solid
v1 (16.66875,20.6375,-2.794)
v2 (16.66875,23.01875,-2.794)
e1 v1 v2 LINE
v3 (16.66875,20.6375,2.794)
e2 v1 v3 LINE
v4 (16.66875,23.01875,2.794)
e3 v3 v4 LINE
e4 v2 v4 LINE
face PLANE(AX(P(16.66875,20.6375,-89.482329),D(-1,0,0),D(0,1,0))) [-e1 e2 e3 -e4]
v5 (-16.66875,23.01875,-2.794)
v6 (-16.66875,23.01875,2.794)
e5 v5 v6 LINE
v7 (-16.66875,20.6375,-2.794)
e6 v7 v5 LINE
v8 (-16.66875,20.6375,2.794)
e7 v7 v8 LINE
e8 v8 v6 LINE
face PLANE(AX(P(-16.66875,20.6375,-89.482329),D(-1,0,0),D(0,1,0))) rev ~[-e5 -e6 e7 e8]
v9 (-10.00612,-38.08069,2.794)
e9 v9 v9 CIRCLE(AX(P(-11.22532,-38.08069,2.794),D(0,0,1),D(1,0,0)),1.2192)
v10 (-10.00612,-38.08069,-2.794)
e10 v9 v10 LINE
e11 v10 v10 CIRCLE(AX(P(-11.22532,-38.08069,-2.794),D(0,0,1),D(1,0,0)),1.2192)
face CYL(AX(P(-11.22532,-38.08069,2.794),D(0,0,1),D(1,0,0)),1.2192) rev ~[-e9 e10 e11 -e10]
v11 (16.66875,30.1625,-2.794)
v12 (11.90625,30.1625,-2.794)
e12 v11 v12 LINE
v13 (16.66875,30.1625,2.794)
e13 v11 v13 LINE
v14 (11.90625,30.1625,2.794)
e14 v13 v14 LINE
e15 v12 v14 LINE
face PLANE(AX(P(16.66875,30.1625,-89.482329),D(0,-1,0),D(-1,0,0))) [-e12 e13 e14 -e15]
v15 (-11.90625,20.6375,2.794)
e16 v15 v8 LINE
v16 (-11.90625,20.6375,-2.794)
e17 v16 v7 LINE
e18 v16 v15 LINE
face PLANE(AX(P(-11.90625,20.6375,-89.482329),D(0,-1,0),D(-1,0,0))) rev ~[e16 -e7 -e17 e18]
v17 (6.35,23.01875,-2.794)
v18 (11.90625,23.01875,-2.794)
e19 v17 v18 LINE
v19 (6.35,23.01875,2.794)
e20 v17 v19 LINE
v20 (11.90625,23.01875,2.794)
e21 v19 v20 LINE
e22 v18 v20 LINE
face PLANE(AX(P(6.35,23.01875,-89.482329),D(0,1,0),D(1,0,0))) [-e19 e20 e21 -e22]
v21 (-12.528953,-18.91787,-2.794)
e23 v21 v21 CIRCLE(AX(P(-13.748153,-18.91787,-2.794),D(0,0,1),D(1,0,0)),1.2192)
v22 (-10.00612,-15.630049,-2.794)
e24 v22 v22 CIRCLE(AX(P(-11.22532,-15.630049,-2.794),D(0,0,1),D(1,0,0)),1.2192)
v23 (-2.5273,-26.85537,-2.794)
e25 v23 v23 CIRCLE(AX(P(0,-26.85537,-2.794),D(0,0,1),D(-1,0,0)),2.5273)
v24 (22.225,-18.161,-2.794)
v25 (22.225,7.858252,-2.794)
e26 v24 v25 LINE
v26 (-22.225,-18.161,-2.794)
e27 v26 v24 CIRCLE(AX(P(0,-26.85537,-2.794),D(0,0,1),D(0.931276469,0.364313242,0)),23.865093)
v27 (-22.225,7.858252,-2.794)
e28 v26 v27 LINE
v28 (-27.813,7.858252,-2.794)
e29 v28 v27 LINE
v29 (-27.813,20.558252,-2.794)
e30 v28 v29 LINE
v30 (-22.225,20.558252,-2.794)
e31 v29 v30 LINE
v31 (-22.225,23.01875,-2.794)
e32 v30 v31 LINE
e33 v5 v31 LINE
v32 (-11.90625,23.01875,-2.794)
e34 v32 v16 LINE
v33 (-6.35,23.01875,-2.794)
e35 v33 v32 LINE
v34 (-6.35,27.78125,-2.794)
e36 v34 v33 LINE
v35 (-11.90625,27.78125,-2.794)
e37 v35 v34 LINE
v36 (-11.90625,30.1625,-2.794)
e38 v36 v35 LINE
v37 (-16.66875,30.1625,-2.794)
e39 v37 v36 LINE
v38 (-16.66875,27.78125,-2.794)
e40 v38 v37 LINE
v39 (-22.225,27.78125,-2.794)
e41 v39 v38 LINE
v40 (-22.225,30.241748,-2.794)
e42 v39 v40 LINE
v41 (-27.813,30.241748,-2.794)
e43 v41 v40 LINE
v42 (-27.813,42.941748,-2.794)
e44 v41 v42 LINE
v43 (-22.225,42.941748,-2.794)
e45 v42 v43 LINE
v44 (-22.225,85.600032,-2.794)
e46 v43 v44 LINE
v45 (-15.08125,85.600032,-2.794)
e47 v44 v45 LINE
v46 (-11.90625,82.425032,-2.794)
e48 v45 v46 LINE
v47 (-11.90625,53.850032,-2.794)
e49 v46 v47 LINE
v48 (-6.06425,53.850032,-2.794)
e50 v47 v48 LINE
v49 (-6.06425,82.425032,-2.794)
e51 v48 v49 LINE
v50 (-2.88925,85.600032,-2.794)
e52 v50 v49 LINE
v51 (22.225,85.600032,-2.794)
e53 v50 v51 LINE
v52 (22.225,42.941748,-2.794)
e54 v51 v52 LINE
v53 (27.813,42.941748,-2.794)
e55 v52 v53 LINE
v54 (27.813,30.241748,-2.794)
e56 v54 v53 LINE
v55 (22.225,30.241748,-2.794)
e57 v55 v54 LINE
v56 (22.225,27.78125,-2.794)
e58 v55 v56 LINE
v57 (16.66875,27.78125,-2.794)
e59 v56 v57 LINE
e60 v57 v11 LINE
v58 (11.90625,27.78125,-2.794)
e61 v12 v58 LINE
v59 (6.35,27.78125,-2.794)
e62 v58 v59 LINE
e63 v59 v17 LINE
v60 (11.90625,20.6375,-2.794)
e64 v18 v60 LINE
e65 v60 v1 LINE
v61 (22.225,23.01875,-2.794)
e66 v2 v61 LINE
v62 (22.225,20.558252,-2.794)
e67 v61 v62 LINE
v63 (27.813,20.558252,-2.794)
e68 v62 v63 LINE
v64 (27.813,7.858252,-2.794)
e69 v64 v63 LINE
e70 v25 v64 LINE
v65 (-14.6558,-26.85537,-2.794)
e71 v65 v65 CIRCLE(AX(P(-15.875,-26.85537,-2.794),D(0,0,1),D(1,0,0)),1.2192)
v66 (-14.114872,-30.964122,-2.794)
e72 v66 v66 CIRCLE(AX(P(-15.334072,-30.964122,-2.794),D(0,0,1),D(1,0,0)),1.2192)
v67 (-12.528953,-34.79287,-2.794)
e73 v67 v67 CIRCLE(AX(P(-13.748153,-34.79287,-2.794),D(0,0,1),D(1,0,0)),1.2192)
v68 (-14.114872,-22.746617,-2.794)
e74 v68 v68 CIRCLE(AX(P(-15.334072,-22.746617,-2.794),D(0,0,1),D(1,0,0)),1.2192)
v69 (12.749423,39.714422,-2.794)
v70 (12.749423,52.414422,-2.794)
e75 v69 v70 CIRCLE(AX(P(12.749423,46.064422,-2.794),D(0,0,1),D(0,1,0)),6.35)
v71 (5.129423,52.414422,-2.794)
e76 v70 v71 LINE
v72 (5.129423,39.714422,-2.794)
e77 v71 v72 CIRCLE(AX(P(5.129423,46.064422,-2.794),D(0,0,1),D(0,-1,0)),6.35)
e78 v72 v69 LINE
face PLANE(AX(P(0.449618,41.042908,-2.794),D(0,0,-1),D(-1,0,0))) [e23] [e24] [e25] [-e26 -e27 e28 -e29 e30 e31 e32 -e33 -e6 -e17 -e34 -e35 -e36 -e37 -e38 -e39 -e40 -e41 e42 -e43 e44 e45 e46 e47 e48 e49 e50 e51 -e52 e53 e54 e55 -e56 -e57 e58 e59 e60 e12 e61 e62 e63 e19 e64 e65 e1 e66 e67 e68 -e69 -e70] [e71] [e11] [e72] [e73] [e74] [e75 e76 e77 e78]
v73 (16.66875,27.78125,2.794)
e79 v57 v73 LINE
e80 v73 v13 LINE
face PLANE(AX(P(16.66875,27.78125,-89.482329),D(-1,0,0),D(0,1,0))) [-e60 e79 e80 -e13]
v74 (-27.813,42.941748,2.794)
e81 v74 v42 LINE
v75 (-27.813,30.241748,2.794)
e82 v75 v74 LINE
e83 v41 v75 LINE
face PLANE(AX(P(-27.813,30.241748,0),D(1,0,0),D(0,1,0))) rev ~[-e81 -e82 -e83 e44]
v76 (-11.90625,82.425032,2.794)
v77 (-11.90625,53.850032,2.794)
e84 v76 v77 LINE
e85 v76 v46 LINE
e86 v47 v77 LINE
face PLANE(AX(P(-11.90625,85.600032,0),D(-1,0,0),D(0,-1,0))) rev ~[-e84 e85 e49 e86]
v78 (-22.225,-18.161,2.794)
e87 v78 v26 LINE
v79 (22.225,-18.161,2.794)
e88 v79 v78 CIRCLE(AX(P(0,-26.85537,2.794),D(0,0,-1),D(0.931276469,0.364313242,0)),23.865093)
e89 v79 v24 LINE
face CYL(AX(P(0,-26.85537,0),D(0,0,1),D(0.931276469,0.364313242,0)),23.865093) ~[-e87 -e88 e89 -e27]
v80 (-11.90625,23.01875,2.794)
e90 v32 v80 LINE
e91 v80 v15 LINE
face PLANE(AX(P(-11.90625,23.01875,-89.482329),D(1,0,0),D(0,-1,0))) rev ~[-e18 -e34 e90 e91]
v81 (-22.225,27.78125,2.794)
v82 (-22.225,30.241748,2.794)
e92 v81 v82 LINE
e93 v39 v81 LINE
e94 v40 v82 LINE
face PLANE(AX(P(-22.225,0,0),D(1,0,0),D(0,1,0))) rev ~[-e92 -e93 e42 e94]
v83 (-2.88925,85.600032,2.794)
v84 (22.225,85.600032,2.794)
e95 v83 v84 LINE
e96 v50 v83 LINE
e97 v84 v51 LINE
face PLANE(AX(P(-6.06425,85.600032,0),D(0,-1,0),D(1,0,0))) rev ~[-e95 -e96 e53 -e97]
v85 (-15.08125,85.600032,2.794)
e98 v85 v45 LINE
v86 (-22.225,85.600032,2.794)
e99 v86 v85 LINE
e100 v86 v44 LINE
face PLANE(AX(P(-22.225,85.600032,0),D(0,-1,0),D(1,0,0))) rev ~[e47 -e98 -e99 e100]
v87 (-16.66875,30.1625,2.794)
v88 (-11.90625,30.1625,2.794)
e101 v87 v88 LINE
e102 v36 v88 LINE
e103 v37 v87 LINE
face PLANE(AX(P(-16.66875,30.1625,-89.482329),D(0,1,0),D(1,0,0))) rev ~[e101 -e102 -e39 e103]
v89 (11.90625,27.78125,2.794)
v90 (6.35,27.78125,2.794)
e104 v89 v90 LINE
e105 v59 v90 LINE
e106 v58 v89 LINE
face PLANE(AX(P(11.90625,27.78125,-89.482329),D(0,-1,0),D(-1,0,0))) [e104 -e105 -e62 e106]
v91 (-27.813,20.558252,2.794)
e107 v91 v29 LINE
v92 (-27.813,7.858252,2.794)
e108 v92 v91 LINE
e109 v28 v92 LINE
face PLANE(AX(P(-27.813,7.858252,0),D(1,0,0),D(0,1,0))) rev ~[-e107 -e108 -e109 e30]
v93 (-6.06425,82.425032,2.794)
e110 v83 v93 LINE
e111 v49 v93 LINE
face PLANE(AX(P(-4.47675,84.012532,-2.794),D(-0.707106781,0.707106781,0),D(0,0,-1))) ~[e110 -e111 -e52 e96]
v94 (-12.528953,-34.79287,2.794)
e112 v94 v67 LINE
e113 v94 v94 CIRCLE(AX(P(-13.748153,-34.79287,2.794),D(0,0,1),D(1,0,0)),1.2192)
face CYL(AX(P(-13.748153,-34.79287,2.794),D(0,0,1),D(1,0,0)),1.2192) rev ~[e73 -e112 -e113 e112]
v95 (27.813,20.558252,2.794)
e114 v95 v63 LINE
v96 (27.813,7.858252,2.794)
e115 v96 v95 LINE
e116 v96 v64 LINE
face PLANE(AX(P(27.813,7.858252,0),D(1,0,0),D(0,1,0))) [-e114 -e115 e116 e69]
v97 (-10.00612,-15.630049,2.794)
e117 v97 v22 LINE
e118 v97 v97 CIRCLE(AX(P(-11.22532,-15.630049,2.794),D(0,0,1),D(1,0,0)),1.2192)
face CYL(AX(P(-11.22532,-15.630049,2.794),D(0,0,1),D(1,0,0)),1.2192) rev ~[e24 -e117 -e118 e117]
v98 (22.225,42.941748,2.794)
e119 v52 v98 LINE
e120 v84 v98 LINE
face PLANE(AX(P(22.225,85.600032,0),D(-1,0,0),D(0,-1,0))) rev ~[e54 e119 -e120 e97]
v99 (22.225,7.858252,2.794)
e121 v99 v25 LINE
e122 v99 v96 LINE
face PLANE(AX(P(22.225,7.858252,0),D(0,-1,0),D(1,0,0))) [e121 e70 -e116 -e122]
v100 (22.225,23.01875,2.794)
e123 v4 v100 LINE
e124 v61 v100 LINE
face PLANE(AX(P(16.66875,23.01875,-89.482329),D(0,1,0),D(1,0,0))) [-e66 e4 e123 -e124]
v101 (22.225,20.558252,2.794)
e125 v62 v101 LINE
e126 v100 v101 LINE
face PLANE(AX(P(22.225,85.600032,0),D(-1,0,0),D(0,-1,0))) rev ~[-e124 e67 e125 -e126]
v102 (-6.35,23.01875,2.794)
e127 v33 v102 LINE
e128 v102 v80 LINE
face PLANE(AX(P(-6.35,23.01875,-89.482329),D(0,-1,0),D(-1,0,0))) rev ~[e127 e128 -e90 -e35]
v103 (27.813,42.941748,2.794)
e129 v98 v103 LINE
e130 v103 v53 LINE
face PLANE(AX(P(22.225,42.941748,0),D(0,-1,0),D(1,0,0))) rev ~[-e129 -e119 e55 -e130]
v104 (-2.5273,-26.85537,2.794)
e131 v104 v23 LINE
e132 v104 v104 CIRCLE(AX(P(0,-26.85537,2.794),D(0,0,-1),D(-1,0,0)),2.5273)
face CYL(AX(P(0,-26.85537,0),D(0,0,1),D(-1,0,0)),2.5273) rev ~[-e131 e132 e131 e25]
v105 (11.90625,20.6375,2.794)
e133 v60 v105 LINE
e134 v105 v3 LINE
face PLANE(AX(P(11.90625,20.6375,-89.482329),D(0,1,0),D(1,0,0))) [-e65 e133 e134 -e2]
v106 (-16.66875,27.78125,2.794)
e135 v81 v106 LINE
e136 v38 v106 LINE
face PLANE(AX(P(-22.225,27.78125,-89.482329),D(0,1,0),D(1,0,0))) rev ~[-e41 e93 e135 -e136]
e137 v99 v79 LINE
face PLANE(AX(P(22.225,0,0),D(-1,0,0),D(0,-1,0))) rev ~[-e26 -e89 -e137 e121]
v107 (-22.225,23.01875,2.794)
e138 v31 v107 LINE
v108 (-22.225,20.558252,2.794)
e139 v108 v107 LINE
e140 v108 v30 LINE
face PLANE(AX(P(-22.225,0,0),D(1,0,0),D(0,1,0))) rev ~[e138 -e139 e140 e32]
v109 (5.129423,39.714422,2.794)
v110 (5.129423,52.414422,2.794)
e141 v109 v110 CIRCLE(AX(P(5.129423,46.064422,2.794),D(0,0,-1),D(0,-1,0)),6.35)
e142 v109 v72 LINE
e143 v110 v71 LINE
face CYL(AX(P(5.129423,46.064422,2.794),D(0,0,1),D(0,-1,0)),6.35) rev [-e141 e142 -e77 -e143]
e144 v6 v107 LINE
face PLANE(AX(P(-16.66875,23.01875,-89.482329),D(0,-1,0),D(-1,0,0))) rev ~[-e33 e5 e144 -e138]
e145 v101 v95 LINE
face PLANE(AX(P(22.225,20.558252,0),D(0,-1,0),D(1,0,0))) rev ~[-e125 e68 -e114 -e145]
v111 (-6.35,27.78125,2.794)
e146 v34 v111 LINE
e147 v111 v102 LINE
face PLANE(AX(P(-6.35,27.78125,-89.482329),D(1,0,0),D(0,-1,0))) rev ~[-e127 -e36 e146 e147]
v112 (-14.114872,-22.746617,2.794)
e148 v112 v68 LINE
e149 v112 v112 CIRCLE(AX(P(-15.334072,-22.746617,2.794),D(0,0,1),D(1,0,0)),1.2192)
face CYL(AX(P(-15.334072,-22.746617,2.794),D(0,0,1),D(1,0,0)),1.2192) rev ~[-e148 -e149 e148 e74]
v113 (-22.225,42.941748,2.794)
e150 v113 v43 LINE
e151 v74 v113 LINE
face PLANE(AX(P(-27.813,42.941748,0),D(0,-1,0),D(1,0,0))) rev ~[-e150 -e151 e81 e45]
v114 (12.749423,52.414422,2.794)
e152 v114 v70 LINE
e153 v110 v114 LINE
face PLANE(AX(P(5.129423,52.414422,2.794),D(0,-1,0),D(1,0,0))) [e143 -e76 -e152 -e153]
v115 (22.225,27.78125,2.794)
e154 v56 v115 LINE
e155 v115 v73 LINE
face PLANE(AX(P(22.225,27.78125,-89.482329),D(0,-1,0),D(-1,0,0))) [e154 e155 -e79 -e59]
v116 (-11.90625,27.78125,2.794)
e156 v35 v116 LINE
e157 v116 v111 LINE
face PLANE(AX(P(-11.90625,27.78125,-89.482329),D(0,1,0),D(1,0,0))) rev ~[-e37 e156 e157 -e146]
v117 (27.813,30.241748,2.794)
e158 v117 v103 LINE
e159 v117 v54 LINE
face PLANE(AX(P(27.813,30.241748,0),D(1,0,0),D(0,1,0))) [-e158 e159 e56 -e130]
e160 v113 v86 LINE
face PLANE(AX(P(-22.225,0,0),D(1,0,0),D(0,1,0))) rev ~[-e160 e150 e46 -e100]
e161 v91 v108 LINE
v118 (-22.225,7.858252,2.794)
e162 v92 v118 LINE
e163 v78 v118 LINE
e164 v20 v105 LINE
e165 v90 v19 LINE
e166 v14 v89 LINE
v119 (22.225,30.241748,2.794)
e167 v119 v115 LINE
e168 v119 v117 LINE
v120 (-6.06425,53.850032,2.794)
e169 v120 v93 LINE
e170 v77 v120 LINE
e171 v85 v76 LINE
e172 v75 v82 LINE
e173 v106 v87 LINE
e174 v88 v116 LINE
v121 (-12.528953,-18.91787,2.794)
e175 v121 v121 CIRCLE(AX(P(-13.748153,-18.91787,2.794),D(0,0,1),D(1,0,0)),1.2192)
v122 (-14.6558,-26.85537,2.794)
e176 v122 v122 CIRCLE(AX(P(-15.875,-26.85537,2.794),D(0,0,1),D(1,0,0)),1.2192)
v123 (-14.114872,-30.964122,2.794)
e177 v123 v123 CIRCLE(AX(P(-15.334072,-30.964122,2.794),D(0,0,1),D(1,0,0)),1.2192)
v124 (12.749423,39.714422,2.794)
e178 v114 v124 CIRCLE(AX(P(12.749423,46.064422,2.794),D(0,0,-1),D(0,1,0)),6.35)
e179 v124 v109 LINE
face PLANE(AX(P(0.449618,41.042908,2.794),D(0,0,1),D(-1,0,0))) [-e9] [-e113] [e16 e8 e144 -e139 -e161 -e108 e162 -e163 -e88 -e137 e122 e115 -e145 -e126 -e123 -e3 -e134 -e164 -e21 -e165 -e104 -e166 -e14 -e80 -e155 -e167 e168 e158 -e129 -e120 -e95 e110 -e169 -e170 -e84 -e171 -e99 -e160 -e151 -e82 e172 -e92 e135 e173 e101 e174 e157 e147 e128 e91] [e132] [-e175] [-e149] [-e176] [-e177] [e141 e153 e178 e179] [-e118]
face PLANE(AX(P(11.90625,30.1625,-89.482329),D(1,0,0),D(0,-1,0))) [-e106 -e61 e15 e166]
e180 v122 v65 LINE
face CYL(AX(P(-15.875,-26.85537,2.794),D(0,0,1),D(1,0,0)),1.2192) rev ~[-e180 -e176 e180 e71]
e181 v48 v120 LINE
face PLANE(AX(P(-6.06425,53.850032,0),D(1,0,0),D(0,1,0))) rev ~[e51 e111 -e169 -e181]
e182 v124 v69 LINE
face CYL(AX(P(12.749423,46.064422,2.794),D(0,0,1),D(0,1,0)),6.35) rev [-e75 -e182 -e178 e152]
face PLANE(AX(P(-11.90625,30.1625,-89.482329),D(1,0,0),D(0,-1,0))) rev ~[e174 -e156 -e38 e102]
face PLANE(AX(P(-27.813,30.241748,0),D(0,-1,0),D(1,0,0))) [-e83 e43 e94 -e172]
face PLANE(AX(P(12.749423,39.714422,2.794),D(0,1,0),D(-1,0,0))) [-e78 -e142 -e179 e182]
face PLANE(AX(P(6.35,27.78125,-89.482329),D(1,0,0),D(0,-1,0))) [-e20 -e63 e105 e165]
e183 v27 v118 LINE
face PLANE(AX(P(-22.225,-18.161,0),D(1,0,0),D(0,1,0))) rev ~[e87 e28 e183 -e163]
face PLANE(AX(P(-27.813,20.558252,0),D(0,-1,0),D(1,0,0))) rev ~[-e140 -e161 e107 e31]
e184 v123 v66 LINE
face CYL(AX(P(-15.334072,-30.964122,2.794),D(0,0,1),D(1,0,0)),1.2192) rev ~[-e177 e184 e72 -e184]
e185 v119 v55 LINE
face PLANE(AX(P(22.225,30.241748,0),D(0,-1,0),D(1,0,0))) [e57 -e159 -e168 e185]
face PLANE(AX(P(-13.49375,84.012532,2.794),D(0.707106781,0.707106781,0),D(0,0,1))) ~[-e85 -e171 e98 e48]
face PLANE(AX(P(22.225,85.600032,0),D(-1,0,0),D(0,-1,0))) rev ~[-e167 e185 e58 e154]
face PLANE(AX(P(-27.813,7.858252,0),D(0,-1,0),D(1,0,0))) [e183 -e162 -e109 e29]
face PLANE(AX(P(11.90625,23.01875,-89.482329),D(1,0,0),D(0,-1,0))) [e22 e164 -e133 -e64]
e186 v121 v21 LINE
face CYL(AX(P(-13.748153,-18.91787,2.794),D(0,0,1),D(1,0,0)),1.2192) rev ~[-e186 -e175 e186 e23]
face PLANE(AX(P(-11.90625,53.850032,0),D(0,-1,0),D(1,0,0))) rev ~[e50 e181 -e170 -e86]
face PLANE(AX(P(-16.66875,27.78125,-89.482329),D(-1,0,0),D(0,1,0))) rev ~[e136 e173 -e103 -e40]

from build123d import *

# Parameters (mm, degrees)
BOSS_EXTRUDE1_DEPTH             = 2.794
CUT_EXTRUDE1_DEPTH              = 89.482328967
CUT_EXTRUDE1_DEPTH_BACK         = 89.482328967
BOSS_EXTRUDE2_REACH             = 90.482
SKETCH3_W                       = 5.588
SKETCH3_H                       = 12.7
BOSS_EXTRUDE2_DIRECTION_2_REACH = 90.482
BOSS_EXTRUDE3_REACH             = 92.049
SKETCH4_R                       = 2.5273
BOSS_EXTRUDE3_DIRECTION_2_REACH = 92.049
SKETCH6_R                       = 1.2192
CUT_EXTRUDE8_DEPTH              = 91.178457469
CHAMFER1_SIZE                   = 3.175
CUT_EXTRUDE10_DEPTH             = 91.178457469


with BuildPart() as part:
    # Sketch1 → Boss-Extrude1 (new, symmetric)
    with BuildSketch(Plane.XY):
        Polygon((-6.06425, 85.600032), (22.225, 85.600032), (22.225, 0), (-22.225, 0), (-22.225, 85.600032), (-11.90625, 85.600032), (-11.90625, 53.850032), (-6.06425, 53.850032), align=None)
    extrude(amount=BOSS_EXTRUDE1_DEPTH, both=True)

    # Sketch2 → Cut-Extrude1 (cut, two sides: drawn at the far end of the back side and taken through both)
    with BuildSketch(Plane.XY.offset(-CUT_EXTRUDE1_DEPTH_BACK)):
        Polygon((-22.225, 27.78125), (-16.66875, 27.78125), (-16.66875, 30.1625), (-11.90625, 30.1625), (-11.90625, 27.78125), (-6.35, 27.78125), (-6.35, 23.01875), (-11.90625, 23.01875), (-11.90625, 20.6375), (-16.66875, 20.6375), (-16.66875, 23.01875), (-22.225, 23.01875), align=None)
        Polygon((22.225, 27.78125), (16.66875, 27.78125), (16.66875, 30.1625), (11.90625, 30.1625), (11.90625, 27.78125), (6.35, 27.78125), (6.35, 23.01875), (11.90625, 23.01875), (11.90625, 20.6375), (16.66875, 20.6375), (16.66875, 23.01875), (22.225, 23.01875), align=None)
    extrude(amount=CUT_EXTRUDE1_DEPTH + CUT_EXTRUDE1_DEPTH_BACK, mode=Mode.SUBTRACT)

    # Boss-Extrude2: up to this face of the body (flat: up to its plane)
    boss_extrude2_end = Plane(part.part.faces().sort_by_distance((0.486906513, 42.340229634, 2.794))[0])
    # Sketch3 → Boss-Extrude2 (add, up to the picked face)
    with BuildSketch(Plane.XY, mode=Mode.PRIVATE) as boss_extrude2_sk1:
        with Locations((-25.019, 14.208252)):
            Rectangle(SKETCH3_W, SKETCH3_H)
    boss_extrude2_tool1 = split(extrude(boss_extrude2_sk1.sketch, amount=BOSS_EXTRUDE2_REACH, mode=Mode.PRIVATE), bisect_by=boss_extrude2_end, keep=Keep.BOTH, mode=Mode.PRIVATE)
    # Sketch3 → Boss-Extrude2 (add, up to the picked face)
    with BuildSketch(Plane.XY, mode=Mode.PRIVATE) as boss_extrude2_sk2:
        with Locations((25.019, 14.208252)):
            Rectangle(SKETCH3_W, SKETCH3_H)
    boss_extrude2_tool2 = split(extrude(boss_extrude2_sk2.sketch, amount=BOSS_EXTRUDE2_REACH, mode=Mode.PRIVATE), bisect_by=boss_extrude2_end, keep=Keep.BOTH, mode=Mode.PRIVATE)
    # Sketch3 → Boss-Extrude2 (add, up to the picked face)
    with BuildSketch(Plane.XY, mode=Mode.PRIVATE) as boss_extrude2_sk3:
        with Locations((-25.019, 36.591748)):
            Rectangle(SKETCH3_W, SKETCH3_H)
    boss_extrude2_tool3 = split(extrude(boss_extrude2_sk3.sketch, amount=BOSS_EXTRUDE2_REACH, mode=Mode.PRIVATE), bisect_by=boss_extrude2_end, keep=Keep.BOTH, mode=Mode.PRIVATE)
    # Sketch3 → Boss-Extrude2 (add, up to the picked face)
    with BuildSketch(Plane.XY, mode=Mode.PRIVATE) as boss_extrude2_sk4:
        with Locations((25.019, 36.591748)):
            Rectangle(SKETCH3_W, SKETCH3_H)
    boss_extrude2_tool4 = split(extrude(boss_extrude2_sk4.sketch, amount=BOSS_EXTRUDE2_REACH, mode=Mode.PRIVATE), bisect_by=boss_extrude2_end, keep=Keep.BOTH, mode=Mode.PRIVATE)
    add(boss_extrude2_tool1.solids().sort_by(Axis((-25.019, 14.208252, 0), (0, 0, 1)))[0])
    add(boss_extrude2_tool2.solids().sort_by(Axis((25.019, 14.208252, 0), (0, 0, 1)))[0])
    add(boss_extrude2_tool3.solids().sort_by(Axis((-25.019, 36.591748, 0), (0, 0, 1)))[0])
    add(boss_extrude2_tool4.solids().sort_by(Axis((25.019, 36.591748, 0), (0, 0, 1)))[0])

    # Boss-Extrude2 direction 2: up to this face of the body (flat: up to its plane)
    boss_extrude2_direction_2_end = Plane(part.part.faces().sort_by_distance((0.486906513, 42.340229634, -2.794))[0])
    # Sketch3 → Boss-Extrude2 direction 2 (add, up to the picked face)
    with BuildSketch(Plane.XY, mode=Mode.PRIVATE) as boss_extrude2_direction_2_sk1:
        with Locations((-25.019, 14.208252)):
            Rectangle(SKETCH3_W, SKETCH3_H)
    boss_extrude2_direction_2_tool1 = split(extrude(boss_extrude2_direction_2_sk1.sketch, amount=-BOSS_EXTRUDE2_DIRECTION_2_REACH, mode=Mode.PRIVATE), bisect_by=boss_extrude2_direction_2_end, keep=Keep.BOTH, mode=Mode.PRIVATE)
    # Sketch3 → Boss-Extrude2 direction 2 (add, up to the picked face)
    with BuildSketch(Plane.XY, mode=Mode.PRIVATE) as boss_extrude2_direction_2_sk2:
        with Locations((25.019, 14.208252)):
            Rectangle(SKETCH3_W, SKETCH3_H)
    boss_extrude2_direction_2_tool2 = split(extrude(boss_extrude2_direction_2_sk2.sketch, amount=-BOSS_EXTRUDE2_DIRECTION_2_REACH, mode=Mode.PRIVATE), bisect_by=boss_extrude2_direction_2_end, keep=Keep.BOTH, mode=Mode.PRIVATE)
    # Sketch3 → Boss-Extrude2 direction 2 (add, up to the picked face)
    with BuildSketch(Plane.XY, mode=Mode.PRIVATE) as boss_extrude2_direction_2_sk3:
        with Locations((-25.019, 36.591748)):
            Rectangle(SKETCH3_W, SKETCH3_H)
    boss_extrude2_direction_2_tool3 = split(extrude(boss_extrude2_direction_2_sk3.sketch, amount=-BOSS_EXTRUDE2_DIRECTION_2_REACH, mode=Mode.PRIVATE), bisect_by=boss_extrude2_direction_2_end, keep=Keep.BOTH, mode=Mode.PRIVATE)
    # Sketch3 → Boss-Extrude2 direction 2 (add, up to the picked face)
    with BuildSketch(Plane.XY, mode=Mode.PRIVATE) as boss_extrude2_direction_2_sk4:
        with Locations((25.019, 36.591748)):
            Rectangle(SKETCH3_W, SKETCH3_H)
    boss_extrude2_direction_2_tool4 = split(extrude(boss_extrude2_direction_2_sk4.sketch, amount=-BOSS_EXTRUDE2_DIRECTION_2_REACH, mode=Mode.PRIVATE), bisect_by=boss_extrude2_direction_2_end, keep=Keep.BOTH, mode=Mode.PRIVATE)
    add(boss_extrude2_direction_2_tool1.solids().sort_by(Axis((-25.019, 14.208252, 0), (0, 0, -1)))[0])
    add(boss_extrude2_direction_2_tool2.solids().sort_by(Axis((25.019, 14.208252, 0), (0, 0, -1)))[0])
    add(boss_extrude2_direction_2_tool3.solids().sort_by(Axis((-25.019, 36.591748, 0), (0, 0, -1)))[0])
    add(boss_extrude2_direction_2_tool4.solids().sort_by(Axis((25.019, 36.591748, 0), (0, 0, -1)))[0])

    # Boss-Extrude3: up to this face of the body (flat: up to its plane)
    boss_extrude3_end = Plane(part.part.faces().sort_by_distance((0.449618089, 41.042907789, 2.794))[0])
    # Sketch4 → Boss-Extrude3 (add, up to the picked face)
    with BuildSketch(Plane.XY, mode=Mode.PRIVATE) as boss_extrude3_sk1:
        with BuildLine():
            Line((-22.225, 0), (22.225, 0))
            Line((22.225, 0), (22.225, -18.161))
            ThreePointArc((22.225, -18.161), (0, -50.720463079), (-22.225, -18.161))
            Line((-22.225, -18.161), (-22.225, 0))
        make_face()
        with Locations(Location((0, -26.855369585, 0), (0, 0, 180))):
            Circle(SKETCH4_R, mode=Mode.SUBTRACT)
    boss_extrude3_tool1 = split(extrude(boss_extrude3_sk1.sketch, amount=BOSS_EXTRUDE3_REACH, mode=Mode.PRIVATE), bisect_by=boss_extrude3_end, keep=Keep.BOTH, mode=Mode.PRIVATE)
    add(boss_extrude3_tool1.solids().sort_by(Axis((0, -23.48752, 0), (0, 0, 1)))[0])

    # Boss-Extrude3 direction 2: up to this face of the body (flat: up to its plane)
    boss_extrude3_direction_2_end = Plane(part.part.faces().sort_by_distance((0.449618089, 41.042907789, -2.794))[0])
    # Sketch4 → Boss-Extrude3 direction 2 (add, up to the picked face)
    with BuildSketch(Plane.XY, mode=Mode.PRIVATE) as boss_extrude3_direction_2_sk1:
        with BuildLine():
            Line((-22.225, 0), (22.225, 0))
            Line((22.225, 0), (22.225, -18.161))
            ThreePointArc((22.225, -18.161), (0, -50.720463079), (-22.225, -18.161))
            Line((-22.225, -18.161), (-22.225, 0))
        make_face()
        with Locations(Location((0, -26.855369585, 0), (0, 0, 180))):
            Circle(SKETCH4_R, mode=Mode.SUBTRACT)
    boss_extrude3_direction_2_tool1 = split(extrude(boss_extrude3_direction_2_sk1.sketch, amount=-BOSS_EXTRUDE3_DIRECTION_2_REACH, mode=Mode.PRIVATE), bisect_by=boss_extrude3_direction_2_end, keep=Keep.BOTH, mode=Mode.PRIVATE)
    add(boss_extrude3_direction_2_tool1.solids().sort_by(Axis((0, -23.48752, 0), (0, 0, -1)))[0])

    # Sketch6 → Cut-Extrude8 (cut, through all)
    with BuildSketch(Plane.XY.offset(2.794)):
        with Locations((-15.875, -26.855369585)):
            Circle(SKETCH6_R)
        with Locations((-15.334072492, -22.746617244)):
            Circle(SKETCH6_R)
        with Locations((-13.748153285, -18.917869585)):
            Circle(SKETCH6_R)
        with Locations((-11.225320151, -15.630049433)):
            Circle(SKETCH6_R)
        with Locations((-11.225320151, -38.080689736)):
            Circle(SKETCH6_R)
        with Locations((-13.748153285, -34.792869585)):
            Circle(SKETCH6_R)
        with Locations((-15.334072492, -30.964121926)):
            Circle(SKETCH6_R)
    extrude(amount=-CUT_EXTRUDE8_DEPTH, mode=Mode.SUBTRACT)

    # Chamfer1
    chamfer1_edges = [part.edges().sort_by_distance(p)[0] for p in [
        (-11.90625, 85.600032, 0),
        (-6.06425, 85.600032, 0),
    ]]
    chamfer(chamfer1_edges, length=CHAMFER1_SIZE)

    # Sketch8 → Cut-Extrude10 (cut, through all)
    with BuildSketch(Plane.XY.offset(2.794)):
        with BuildLine():
            Line((5.129422909, 52.414421713), (12.749422909, 52.414421713))
            ThreePointArc((12.749422909, 52.414421713), (19.099422909, 46.064421713), (12.749422909, 39.714421713))
            Line((12.749422909, 39.714421713), (5.129422909, 39.714421713))
            ThreePointArc((5.129422909, 39.714421713), (-1.220577091, 46.064421713), (5.129422909, 52.414421713))
        make_face()
    extrude(amount=-CUT_EXTRUDE10_DEPTH, mode=Mode.SUBTRACT)


solid = part.part
